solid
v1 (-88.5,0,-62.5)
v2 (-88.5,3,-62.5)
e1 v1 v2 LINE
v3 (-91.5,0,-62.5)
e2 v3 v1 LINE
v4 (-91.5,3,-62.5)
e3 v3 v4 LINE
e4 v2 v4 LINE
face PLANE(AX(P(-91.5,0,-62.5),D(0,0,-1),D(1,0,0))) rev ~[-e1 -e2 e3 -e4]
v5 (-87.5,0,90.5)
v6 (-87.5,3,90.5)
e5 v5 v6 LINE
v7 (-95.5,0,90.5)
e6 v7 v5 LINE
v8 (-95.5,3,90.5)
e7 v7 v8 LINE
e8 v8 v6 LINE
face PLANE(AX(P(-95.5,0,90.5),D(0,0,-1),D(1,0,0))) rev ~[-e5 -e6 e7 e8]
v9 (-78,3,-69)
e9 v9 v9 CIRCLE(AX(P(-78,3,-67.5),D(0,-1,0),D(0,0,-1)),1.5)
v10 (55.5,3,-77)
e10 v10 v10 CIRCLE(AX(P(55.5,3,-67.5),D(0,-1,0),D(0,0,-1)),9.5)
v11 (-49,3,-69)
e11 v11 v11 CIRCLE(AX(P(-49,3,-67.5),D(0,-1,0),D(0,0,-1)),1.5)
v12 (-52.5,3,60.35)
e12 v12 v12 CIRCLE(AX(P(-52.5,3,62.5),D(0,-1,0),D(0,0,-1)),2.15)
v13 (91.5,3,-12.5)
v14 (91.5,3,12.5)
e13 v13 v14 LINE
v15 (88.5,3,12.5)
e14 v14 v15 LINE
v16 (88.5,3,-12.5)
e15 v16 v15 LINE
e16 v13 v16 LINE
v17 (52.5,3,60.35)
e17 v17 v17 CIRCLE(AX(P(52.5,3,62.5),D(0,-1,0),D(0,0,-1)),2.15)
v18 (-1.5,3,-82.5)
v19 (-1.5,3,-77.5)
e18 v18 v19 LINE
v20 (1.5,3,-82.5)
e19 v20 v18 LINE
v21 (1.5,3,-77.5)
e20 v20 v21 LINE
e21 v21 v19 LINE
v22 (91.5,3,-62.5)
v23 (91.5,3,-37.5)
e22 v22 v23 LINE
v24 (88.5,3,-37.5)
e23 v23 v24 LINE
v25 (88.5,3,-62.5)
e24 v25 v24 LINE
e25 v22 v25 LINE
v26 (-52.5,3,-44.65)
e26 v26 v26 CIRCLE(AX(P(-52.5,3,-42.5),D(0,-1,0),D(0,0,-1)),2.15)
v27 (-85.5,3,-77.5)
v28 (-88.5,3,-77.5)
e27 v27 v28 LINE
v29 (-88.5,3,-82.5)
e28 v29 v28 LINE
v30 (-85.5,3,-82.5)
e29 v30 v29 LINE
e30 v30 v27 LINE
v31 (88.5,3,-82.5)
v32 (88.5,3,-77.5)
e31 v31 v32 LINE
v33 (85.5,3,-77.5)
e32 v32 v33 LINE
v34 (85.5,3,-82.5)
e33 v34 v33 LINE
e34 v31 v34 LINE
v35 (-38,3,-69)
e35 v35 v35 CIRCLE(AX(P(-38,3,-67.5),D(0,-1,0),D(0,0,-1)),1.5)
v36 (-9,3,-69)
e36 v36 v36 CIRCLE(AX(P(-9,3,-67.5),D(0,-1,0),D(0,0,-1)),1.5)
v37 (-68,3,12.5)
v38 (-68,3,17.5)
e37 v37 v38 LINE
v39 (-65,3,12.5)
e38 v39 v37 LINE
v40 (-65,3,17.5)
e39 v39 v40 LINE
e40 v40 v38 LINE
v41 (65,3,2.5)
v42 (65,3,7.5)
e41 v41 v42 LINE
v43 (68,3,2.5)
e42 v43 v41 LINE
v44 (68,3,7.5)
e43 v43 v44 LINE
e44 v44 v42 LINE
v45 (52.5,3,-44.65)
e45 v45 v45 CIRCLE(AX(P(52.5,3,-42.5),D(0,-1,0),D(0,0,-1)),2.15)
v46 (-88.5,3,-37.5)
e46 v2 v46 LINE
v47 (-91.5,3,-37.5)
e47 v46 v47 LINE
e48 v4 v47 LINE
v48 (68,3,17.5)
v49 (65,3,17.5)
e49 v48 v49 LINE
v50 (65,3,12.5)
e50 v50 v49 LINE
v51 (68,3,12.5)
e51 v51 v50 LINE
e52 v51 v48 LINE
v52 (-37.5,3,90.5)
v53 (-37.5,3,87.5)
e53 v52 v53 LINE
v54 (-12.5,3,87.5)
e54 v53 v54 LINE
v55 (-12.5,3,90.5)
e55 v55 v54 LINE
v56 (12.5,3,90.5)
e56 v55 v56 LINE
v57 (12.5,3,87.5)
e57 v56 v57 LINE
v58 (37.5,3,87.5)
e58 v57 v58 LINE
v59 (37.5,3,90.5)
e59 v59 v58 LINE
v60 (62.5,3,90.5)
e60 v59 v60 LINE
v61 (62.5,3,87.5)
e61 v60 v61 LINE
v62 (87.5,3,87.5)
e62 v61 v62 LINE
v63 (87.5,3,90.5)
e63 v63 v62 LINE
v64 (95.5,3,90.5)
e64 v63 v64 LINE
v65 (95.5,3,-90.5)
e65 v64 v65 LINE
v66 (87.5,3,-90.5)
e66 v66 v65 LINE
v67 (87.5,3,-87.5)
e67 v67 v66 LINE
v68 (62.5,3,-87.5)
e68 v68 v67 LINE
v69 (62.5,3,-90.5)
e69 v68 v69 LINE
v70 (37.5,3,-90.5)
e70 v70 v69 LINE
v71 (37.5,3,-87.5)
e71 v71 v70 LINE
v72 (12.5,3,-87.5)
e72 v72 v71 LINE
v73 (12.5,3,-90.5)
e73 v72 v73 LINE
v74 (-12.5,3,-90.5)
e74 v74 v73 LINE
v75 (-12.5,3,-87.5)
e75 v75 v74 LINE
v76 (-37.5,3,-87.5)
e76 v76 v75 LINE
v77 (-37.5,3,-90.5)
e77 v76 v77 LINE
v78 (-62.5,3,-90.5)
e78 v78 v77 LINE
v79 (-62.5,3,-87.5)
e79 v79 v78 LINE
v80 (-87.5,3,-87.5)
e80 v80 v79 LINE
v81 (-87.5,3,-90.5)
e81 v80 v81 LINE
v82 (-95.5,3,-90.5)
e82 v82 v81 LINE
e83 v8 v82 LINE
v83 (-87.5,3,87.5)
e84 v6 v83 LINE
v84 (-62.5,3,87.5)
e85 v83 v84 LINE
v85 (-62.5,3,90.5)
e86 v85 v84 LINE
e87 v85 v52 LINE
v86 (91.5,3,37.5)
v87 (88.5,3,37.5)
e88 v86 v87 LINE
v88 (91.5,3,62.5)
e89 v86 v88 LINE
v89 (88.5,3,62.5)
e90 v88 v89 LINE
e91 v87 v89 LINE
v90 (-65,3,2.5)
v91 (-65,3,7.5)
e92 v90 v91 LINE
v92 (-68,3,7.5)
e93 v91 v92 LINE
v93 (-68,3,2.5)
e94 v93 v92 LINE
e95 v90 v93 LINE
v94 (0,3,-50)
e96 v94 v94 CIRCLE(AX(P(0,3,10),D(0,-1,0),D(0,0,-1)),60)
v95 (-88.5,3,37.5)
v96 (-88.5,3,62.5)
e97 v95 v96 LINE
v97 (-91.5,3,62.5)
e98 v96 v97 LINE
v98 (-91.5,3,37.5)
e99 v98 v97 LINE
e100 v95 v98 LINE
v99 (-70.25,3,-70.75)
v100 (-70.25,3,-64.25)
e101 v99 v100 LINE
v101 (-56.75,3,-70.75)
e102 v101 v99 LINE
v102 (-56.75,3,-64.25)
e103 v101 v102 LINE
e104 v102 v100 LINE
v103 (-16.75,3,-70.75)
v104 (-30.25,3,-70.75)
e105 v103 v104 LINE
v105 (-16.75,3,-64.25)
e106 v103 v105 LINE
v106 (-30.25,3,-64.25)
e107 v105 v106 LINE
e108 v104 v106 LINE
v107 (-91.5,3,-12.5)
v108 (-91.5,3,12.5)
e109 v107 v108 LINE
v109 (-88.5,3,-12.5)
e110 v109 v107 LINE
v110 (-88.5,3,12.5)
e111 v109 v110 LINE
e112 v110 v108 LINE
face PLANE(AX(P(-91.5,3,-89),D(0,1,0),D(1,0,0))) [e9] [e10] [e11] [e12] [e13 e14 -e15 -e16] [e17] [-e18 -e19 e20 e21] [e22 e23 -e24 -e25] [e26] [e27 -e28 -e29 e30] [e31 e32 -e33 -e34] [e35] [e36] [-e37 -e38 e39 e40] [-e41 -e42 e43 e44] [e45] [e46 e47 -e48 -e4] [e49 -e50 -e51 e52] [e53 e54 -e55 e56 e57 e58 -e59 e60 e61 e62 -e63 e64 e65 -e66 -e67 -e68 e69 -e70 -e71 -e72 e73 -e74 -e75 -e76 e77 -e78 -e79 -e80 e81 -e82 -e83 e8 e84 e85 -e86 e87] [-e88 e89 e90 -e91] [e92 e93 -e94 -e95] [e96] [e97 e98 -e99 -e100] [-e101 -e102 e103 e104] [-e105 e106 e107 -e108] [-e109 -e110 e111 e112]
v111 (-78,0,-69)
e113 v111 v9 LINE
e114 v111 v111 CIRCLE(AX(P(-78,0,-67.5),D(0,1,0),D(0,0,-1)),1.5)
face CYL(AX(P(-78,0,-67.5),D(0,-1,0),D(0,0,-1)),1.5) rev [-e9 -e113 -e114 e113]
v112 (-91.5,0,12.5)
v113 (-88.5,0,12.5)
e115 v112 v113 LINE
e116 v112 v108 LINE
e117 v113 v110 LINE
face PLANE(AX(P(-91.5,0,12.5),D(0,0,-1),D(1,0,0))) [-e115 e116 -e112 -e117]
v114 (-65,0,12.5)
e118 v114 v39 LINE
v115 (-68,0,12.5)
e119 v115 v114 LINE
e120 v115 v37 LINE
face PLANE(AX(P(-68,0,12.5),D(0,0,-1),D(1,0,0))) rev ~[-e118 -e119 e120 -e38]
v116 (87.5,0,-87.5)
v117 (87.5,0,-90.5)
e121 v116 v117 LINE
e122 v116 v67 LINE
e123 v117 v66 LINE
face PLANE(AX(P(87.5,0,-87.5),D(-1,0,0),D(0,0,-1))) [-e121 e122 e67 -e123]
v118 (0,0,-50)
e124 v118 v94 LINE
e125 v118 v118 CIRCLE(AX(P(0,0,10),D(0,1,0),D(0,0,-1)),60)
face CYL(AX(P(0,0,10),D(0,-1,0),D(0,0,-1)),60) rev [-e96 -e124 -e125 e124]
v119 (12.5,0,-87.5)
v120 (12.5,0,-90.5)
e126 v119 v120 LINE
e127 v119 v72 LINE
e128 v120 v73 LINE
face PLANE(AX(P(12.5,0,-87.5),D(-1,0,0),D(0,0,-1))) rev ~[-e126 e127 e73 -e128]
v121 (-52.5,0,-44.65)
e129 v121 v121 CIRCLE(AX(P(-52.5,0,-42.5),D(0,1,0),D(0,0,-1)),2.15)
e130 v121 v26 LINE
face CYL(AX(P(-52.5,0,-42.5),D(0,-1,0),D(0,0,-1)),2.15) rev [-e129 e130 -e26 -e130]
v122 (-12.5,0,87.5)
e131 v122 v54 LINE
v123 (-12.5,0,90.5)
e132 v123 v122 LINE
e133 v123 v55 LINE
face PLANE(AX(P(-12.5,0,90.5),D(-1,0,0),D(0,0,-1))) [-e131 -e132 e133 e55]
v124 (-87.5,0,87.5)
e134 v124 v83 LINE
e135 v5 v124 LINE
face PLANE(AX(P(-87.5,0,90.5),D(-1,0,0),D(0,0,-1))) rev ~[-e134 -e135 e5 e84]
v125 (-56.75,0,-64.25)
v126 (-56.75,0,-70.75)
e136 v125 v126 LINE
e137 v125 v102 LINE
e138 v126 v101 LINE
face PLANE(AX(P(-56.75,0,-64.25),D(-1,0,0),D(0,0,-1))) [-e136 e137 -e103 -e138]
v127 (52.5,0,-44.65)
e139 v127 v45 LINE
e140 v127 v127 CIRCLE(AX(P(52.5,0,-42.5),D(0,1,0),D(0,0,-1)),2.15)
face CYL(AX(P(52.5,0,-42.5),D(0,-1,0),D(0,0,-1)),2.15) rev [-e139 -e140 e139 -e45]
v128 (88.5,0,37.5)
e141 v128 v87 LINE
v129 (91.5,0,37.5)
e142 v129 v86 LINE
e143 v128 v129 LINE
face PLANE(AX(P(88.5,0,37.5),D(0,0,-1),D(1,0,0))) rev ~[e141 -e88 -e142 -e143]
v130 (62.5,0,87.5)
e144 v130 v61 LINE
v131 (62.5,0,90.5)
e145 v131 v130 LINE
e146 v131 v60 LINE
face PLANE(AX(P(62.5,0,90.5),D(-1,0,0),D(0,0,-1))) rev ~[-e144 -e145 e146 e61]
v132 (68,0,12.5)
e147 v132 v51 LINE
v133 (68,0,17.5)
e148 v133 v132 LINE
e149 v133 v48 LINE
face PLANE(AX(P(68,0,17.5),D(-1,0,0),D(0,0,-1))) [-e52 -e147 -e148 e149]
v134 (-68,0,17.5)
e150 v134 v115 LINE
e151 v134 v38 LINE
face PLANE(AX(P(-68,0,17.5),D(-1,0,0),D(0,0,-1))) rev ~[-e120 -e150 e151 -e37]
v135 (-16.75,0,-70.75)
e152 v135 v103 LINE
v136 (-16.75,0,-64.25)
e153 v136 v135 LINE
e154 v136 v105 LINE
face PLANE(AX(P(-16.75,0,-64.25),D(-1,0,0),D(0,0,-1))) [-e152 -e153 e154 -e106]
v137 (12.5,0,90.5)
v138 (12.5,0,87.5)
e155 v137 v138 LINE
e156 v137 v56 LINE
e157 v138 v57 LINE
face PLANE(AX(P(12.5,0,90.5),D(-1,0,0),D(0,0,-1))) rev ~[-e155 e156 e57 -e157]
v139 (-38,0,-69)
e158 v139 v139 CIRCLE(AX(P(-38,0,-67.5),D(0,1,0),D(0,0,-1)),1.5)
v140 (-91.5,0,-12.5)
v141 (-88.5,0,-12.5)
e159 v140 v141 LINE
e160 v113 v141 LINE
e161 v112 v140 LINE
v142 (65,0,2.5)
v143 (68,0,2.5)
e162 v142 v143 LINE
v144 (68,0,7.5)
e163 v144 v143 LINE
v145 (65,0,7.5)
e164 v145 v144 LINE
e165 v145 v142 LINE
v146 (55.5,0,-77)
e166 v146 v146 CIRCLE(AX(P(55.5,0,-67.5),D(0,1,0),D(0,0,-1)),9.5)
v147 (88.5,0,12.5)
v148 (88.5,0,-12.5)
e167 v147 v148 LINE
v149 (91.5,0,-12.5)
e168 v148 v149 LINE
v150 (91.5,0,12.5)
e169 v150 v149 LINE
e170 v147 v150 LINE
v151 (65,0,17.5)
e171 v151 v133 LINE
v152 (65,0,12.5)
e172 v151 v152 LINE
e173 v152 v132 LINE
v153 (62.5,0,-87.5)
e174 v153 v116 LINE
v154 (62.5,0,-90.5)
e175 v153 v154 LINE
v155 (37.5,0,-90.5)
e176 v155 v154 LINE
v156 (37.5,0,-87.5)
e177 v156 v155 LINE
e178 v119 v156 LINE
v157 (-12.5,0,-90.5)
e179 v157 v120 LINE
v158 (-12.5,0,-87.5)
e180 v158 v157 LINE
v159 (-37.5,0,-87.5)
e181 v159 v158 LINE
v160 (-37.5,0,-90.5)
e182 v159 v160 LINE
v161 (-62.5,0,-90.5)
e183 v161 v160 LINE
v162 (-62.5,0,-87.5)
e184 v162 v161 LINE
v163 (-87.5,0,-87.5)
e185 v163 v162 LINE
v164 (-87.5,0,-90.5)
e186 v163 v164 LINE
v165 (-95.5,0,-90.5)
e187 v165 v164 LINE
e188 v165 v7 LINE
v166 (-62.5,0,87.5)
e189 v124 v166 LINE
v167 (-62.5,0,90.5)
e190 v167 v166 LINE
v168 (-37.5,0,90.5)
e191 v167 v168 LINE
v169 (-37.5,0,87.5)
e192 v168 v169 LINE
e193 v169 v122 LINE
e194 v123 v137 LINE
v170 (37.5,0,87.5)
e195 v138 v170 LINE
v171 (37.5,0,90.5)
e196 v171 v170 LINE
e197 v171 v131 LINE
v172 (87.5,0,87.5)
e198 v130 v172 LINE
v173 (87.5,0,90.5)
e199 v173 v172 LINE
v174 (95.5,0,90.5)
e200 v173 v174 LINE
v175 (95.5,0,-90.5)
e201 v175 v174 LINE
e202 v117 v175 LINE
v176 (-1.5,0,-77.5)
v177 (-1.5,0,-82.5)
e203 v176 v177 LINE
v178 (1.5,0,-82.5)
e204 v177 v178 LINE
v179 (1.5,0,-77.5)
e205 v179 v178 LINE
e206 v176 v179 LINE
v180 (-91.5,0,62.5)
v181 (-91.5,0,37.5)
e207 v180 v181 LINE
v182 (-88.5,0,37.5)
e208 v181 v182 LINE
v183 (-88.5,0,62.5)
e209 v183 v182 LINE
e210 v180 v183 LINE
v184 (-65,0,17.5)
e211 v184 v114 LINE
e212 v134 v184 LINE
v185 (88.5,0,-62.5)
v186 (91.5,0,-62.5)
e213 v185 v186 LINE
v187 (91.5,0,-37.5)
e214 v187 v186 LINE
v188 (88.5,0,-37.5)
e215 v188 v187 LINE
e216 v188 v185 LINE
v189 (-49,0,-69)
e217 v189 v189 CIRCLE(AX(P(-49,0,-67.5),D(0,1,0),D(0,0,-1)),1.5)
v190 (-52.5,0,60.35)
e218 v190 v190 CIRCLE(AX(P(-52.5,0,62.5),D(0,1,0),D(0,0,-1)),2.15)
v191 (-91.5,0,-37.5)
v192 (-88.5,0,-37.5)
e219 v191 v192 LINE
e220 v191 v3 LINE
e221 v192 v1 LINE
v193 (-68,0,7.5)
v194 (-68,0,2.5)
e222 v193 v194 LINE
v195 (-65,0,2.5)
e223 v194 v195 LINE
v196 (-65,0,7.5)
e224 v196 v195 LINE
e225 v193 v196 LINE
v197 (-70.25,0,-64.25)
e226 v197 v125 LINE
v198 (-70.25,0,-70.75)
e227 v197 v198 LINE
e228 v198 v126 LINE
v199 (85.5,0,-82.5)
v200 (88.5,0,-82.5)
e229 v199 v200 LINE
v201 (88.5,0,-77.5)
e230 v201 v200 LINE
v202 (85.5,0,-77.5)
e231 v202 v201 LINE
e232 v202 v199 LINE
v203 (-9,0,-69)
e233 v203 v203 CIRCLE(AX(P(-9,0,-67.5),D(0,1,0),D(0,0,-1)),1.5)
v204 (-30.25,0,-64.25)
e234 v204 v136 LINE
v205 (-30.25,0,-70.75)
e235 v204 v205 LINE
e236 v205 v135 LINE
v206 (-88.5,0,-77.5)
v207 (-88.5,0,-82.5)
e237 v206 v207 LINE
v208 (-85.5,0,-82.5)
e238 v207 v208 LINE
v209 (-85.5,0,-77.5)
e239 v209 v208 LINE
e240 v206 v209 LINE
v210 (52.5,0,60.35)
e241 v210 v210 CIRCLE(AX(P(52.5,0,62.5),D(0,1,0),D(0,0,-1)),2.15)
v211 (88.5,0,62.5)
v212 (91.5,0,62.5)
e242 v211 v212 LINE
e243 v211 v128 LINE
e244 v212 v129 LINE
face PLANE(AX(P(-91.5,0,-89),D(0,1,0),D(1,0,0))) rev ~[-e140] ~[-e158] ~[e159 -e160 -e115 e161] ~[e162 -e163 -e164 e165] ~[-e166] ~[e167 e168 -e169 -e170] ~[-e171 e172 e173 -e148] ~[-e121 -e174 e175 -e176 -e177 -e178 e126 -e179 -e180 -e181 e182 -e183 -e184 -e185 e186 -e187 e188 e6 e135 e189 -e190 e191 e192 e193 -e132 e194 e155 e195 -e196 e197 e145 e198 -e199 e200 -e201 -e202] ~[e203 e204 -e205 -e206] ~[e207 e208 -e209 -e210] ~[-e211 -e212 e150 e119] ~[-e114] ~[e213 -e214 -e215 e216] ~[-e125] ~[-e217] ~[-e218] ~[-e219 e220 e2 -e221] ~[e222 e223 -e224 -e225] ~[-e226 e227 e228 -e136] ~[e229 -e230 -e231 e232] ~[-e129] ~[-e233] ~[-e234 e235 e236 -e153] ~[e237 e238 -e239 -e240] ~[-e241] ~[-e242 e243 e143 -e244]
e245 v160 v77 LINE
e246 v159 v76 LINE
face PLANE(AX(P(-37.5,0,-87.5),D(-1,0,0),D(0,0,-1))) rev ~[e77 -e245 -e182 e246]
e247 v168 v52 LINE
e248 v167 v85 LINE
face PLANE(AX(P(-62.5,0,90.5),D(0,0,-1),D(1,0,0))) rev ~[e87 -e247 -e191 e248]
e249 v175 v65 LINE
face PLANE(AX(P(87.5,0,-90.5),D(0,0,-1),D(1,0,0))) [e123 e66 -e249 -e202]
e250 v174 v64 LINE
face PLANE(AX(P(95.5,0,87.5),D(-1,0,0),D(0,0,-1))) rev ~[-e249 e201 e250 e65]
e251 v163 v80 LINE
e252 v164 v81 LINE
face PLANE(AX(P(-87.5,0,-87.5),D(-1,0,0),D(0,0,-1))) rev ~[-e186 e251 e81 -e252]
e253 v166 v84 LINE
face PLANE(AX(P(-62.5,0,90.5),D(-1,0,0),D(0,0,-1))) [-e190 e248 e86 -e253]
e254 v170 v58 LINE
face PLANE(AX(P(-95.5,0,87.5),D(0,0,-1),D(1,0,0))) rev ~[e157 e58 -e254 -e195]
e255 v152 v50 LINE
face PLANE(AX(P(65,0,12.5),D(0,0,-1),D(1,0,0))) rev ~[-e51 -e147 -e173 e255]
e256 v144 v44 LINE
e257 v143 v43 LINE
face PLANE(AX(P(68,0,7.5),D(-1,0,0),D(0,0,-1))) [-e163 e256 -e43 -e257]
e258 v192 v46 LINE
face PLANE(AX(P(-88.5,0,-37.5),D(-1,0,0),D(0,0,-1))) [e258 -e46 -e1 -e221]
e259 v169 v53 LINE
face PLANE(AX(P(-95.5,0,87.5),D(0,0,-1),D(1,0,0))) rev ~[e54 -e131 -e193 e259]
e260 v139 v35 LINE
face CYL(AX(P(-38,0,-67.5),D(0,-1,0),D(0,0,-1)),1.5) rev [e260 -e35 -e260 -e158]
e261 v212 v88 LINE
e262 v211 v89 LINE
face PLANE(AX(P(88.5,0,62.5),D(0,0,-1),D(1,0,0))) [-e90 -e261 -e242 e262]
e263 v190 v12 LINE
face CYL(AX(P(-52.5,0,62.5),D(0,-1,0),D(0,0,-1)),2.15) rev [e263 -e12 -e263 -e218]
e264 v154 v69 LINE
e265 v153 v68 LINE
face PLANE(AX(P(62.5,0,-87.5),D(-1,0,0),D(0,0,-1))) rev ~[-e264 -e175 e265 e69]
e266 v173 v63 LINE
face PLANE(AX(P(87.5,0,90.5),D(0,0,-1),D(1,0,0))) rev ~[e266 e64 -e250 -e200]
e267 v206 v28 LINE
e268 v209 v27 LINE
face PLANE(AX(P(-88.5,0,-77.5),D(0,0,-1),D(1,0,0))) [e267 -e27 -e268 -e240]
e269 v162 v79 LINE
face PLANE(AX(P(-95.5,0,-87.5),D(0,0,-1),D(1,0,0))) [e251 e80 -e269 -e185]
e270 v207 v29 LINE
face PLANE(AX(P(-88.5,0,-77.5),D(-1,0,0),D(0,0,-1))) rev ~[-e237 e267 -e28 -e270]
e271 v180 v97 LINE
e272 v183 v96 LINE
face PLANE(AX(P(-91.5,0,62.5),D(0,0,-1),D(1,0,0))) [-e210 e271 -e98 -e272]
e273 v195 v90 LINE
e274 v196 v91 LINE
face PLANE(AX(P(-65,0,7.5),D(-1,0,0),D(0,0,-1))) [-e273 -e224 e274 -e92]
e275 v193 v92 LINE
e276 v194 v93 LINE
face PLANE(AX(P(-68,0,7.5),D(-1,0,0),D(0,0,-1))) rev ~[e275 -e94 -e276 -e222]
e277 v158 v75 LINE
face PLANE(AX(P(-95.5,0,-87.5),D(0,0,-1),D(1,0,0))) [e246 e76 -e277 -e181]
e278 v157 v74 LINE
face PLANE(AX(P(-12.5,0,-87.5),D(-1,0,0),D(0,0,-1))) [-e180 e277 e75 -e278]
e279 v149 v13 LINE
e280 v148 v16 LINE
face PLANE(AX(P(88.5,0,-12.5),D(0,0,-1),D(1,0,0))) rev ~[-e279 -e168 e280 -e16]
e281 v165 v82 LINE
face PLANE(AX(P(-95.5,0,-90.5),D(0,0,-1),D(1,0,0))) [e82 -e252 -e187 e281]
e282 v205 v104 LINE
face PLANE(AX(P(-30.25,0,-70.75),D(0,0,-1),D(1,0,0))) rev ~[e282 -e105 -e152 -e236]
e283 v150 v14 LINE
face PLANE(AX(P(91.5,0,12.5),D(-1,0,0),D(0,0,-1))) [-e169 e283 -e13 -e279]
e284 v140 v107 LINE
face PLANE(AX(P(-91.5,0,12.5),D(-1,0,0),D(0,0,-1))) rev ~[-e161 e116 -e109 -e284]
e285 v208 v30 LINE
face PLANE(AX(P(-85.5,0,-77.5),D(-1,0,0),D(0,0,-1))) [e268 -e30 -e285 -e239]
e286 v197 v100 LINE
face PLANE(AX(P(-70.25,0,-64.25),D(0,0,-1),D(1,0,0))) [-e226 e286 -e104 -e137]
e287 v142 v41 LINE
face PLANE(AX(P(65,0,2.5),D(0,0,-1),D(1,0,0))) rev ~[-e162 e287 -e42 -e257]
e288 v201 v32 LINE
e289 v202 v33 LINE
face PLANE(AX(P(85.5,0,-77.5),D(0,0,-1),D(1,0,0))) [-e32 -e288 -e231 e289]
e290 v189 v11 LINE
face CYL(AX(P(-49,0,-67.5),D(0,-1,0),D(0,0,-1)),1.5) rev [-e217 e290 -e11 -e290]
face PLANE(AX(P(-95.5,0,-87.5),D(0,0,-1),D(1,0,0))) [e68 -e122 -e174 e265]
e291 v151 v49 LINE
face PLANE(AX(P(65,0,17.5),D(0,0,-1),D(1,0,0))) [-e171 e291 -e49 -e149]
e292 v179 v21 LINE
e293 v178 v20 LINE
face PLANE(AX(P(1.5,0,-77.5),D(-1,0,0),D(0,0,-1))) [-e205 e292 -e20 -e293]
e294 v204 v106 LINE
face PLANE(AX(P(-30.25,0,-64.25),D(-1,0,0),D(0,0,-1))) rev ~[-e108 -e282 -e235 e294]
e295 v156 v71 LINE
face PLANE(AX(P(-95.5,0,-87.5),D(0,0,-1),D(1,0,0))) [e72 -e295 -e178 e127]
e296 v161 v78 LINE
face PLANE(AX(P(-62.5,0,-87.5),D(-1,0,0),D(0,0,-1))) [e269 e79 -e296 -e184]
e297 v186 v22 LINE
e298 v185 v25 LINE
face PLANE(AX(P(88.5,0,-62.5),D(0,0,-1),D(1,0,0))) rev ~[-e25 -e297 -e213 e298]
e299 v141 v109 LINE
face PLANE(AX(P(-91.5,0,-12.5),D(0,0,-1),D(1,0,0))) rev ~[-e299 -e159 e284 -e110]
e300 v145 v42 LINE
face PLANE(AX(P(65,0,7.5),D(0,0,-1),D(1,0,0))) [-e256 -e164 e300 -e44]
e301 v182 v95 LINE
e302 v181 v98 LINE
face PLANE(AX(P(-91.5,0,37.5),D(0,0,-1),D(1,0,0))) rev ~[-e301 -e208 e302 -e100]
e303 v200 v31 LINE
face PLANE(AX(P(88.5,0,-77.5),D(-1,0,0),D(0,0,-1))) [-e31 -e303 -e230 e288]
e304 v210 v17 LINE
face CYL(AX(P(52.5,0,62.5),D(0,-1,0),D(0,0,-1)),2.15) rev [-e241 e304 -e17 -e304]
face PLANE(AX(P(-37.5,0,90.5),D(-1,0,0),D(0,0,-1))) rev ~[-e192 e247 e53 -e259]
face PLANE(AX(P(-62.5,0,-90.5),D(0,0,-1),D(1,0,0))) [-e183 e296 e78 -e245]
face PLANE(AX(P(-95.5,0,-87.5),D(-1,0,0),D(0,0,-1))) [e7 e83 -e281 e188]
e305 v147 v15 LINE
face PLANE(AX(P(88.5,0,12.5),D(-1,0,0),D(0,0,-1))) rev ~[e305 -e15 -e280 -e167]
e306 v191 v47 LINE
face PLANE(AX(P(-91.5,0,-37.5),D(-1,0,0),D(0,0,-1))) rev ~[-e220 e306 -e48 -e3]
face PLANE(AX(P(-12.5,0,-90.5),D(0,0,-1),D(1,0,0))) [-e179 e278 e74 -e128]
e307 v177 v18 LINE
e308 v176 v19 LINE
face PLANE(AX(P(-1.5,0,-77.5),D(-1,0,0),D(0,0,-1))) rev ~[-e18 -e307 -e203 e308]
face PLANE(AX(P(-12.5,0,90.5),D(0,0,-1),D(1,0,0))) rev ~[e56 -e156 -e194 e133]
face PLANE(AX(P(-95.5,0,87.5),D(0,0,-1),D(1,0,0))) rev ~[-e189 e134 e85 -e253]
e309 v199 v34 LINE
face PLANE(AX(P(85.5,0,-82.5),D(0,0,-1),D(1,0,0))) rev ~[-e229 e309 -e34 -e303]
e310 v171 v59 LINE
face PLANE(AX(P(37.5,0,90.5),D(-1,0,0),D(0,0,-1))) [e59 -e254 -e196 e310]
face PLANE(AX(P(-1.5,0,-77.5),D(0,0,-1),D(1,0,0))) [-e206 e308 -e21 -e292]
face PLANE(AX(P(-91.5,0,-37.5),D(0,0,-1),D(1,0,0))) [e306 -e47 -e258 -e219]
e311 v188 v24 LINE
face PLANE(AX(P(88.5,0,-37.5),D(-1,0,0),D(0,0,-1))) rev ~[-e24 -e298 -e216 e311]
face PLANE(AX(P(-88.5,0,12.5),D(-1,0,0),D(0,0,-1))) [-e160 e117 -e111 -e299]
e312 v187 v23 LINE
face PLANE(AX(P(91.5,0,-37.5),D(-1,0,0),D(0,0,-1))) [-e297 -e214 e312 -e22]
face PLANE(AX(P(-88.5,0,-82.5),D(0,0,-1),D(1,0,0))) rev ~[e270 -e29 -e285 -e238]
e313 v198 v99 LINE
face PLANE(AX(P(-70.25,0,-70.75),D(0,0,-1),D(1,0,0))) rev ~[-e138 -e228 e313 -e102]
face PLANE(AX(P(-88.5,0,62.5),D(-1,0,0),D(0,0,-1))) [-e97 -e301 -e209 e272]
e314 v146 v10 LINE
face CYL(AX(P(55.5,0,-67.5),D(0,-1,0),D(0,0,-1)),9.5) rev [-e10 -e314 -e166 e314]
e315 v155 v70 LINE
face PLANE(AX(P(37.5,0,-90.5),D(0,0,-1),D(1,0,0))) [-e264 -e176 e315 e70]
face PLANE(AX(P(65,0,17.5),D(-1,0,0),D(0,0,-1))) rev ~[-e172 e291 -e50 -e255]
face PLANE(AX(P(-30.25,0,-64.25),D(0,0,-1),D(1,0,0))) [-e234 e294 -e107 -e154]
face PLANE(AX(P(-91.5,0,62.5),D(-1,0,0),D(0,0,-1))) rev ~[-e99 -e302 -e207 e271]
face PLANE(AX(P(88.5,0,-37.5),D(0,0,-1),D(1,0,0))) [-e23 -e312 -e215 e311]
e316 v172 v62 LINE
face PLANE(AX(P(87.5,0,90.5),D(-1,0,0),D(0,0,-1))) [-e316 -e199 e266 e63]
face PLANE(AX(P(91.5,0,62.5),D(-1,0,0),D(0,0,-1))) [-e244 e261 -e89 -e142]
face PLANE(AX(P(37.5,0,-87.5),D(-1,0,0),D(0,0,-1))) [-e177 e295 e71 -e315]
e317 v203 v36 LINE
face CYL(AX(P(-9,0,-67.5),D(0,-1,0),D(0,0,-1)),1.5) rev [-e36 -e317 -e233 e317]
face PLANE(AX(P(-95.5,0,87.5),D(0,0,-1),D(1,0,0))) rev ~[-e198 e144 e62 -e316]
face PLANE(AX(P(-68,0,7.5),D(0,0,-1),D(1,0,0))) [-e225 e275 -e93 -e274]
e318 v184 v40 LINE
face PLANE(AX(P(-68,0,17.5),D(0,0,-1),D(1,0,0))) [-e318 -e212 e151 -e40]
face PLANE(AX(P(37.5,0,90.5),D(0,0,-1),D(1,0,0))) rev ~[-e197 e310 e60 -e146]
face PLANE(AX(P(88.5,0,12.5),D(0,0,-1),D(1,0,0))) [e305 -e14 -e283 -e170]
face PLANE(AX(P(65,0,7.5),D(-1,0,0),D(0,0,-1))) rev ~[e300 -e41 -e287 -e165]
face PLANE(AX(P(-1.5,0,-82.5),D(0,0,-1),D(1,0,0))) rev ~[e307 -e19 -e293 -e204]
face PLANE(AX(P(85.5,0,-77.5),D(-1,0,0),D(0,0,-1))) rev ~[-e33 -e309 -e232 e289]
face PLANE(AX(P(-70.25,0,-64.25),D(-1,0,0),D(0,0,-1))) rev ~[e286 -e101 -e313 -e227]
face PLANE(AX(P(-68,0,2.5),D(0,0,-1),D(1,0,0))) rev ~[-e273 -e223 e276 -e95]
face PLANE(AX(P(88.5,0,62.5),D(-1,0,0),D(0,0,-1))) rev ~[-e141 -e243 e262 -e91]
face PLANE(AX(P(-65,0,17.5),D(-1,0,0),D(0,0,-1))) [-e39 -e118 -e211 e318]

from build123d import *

# Parameters (mm, degrees)
SKICA1_W                  = 191
SKICA1_H                  = 175
P_IDAT_VYSUNUT_M1_DEPTH   = 3
SKICA13_W                 = 25
SKICA13_H                 = 3
SKICA13_W_2               = 8
P_IDAT_VYSUNUT_M5_DEPTH   = 3
SKICA14_W                 = 3
SKICA14_H                 = 5
ODEBRAT_VYSUNUT_M7_DEPTH  = 132.60357138
SKICA15_W                 = 3
SKICA15_H                 = 25
ODEBRAT_VYSUNUT_M8_DEPTH  = 132.60357138
SKICA16_W                 = 3
SKICA16_H                 = 5
ODEBRAT_VYSUNUT_M9_DEPTH  = 132.60357138
SKICA4_R                  = 2.15
SKICA4_R_2                = 60
ODEBRAT_VYSUNUT_M5_DEPTH  = 132.60357138
SKICA5_R                  = 9.5
ODEBRAT_VYSUNUT_M6_DEPTH  = 132.60357138
SKICA17_R                 = 1.5
SKICA17_W                 = 13.5
SKICA17_H                 = 6.5
ODEBRAT_VYSUNUT_M10_DEPTH = 132.60357138


with BuildPart() as part:
    # Skica1 → Přidat vysunutím1 (new body)
    with BuildSketch(Plane(origin=(0, 0, 0), x_dir=(1, 0, 0), z_dir=(0, 1, 0))):
        Rectangle(SKICA1_W, SKICA1_H)
    extrude(amount=P_IDAT_VYSUNUT_M1_DEPTH)

    # Skica13 → Přidat vysunutím5 (add)
    with BuildSketch(Plane(origin=(0, 0, 0), x_dir=(1, 0, 0), z_dir=(0, 1, 0))):
        with Locations((-50, 89)):
            Rectangle(SKICA13_W, SKICA13_H)
        with Locations((0, 89)):
            Rectangle(SKICA13_W, SKICA13_H)
        with Locations((50, 89)):
            Rectangle(SKICA13_W, SKICA13_H)
        with Locations((50, -89)):
            Rectangle(SKICA13_W, SKICA13_H)
        with Locations((0, -89)):
            Rectangle(SKICA13_W, SKICA13_H)
        with Locations((-50, -89)):
            Rectangle(SKICA13_W, SKICA13_H)
        with Locations((-91.5, 89)):
            Rectangle(SKICA13_W_2, SKICA13_H)
        with Locations((91.5, -89)):
            Rectangle(SKICA13_W_2, SKICA13_H)
        with Locations((91.5, 89)):
            Rectangle(SKICA13_W_2, SKICA13_H)
        with Locations((-91.5, -89)):
            Rectangle(SKICA13_W_2, SKICA13_H)
    extrude(amount=P_IDAT_VYSUNUT_M5_DEPTH)

    # Skica14 → Odebrat vysunutím7 (cut, through all)
    with BuildSketch(Plane(origin=(0, 0, 0), x_dir=(1, 0, 0), z_dir=(0, 1, 0))):
        with Locations((87, 80)):
            Rectangle(SKICA14_W, SKICA14_H)
        with Locations((0, 80)):
            Rectangle(SKICA14_W, SKICA14_H)
        with Locations((-87, 80)):
            Rectangle(SKICA14_W, SKICA14_H)
    extrude(amount=ODEBRAT_VYSUNUT_M7_DEPTH, mode=Mode.SUBTRACT)

    # Skica15 → Odebrat vysunutím8 (cut, through all)
    with BuildSketch(Plane(origin=(0, 0, 0), x_dir=(1, 0, 0), z_dir=(0, 1, 0))):
        with Locations((-90, 50)):
            Rectangle(SKICA15_W, SKICA15_H)
        with Locations((-90, 0)):
            Rectangle(SKICA15_W, SKICA15_H)
        with Locations((-90, -50)):
            Rectangle(SKICA15_W, SKICA15_H)
        with Locations((90, -50)):
            Rectangle(SKICA15_W, SKICA15_H)
        with Locations((90, 0)):
            Rectangle(SKICA15_W, SKICA15_H)
        with Locations((90, 50)):
            Rectangle(SKICA15_W, SKICA15_H)
    extrude(amount=ODEBRAT_VYSUNUT_M8_DEPTH, mode=Mode.SUBTRACT)

    # Skica16 → Odebrat vysunutím9 (cut, through all)
    with BuildSketch(Plane(origin=(0, 0, 0), x_dir=(1, 0, 0), z_dir=(0, 1, 0))):
        with Locations((-66.5, -5)):
            Rectangle(SKICA16_W, SKICA16_H)
        with Locations((-66.5, -15)):
            Rectangle(SKICA16_W, SKICA16_H)
        with Locations((66.5, -15)):
            Rectangle(SKICA16_W, SKICA16_H)
        with Locations((66.5, -5)):
            Rectangle(SKICA16_W, SKICA16_H)
    extrude(amount=ODEBRAT_VYSUNUT_M9_DEPTH, mode=Mode.SUBTRACT)

    # Skica4 → Odebrat vysunutím5 (cut, through all)
    with BuildSketch(Plane(origin=(0, 0, 0), x_dir=(1, 0, 0), z_dir=(0, 1, 0))):
        with Locations(Location((-52.5, -62.5, 0), (0, 0, 90))):
            Circle(SKICA4_R)
        with Locations(Location((52.5, 42.5, 0), (0, 0, 90))):
            Circle(SKICA4_R)
        with Locations(Location((0, -10, 0), (0, 0, 90))):
            Circle(SKICA4_R_2)
        with Locations(Location((-52.5, 42.5, 0), (0, 0, 90))):
            Circle(SKICA4_R)
        with Locations(Location((52.5, -62.5, 0), (0, 0, 90))):
            Circle(SKICA4_R)
    extrude(amount=ODEBRAT_VYSUNUT_M5_DEPTH, mode=Mode.SUBTRACT)

    # Skica5 → Odebrat vysunutím6 (cut, through all)
    with BuildSketch(Plane(origin=(0, 0, 0), x_dir=(1, 0, 0), z_dir=(0, 1, 0))):
        with Locations(Location((55.5, 67.5, 0), (0, 0, 90))):
            Circle(SKICA5_R)
    extrude(amount=ODEBRAT_VYSUNUT_M6_DEPTH, mode=Mode.SUBTRACT)

    # Skica17 → Odebrat vysunutím10 (cut, through all)
    with BuildSketch(Plane(origin=(0, 0, 0), x_dir=(1, 0, 0), z_dir=(0, 1, 0))):
        with Locations(Location((-78, 67.5, 0), (0, 0, 90))):
            Circle(SKICA17_R)
        with Locations(Location((-49, 67.5, 0), (0, 0, 90))):
            Circle(SKICA17_R)
        with Locations(Location((-38, 67.5, 0), (0, 0, 90))):
            Circle(SKICA17_R)
        with Locations(Location((-9, 67.5, 0), (0, 0, 90))):
            Circle(SKICA17_R)
        with Locations((-63.5, 67.5)):
            Rectangle(SKICA17_W, SKICA17_H)
        with Locations((-23.5, 67.5)):
            Rectangle(SKICA17_W, SKICA17_H)
    extrude(amount=ODEBRAT_VYSUNUT_M10_DEPTH, mode=Mode.SUBTRACT)


solid = part.part
